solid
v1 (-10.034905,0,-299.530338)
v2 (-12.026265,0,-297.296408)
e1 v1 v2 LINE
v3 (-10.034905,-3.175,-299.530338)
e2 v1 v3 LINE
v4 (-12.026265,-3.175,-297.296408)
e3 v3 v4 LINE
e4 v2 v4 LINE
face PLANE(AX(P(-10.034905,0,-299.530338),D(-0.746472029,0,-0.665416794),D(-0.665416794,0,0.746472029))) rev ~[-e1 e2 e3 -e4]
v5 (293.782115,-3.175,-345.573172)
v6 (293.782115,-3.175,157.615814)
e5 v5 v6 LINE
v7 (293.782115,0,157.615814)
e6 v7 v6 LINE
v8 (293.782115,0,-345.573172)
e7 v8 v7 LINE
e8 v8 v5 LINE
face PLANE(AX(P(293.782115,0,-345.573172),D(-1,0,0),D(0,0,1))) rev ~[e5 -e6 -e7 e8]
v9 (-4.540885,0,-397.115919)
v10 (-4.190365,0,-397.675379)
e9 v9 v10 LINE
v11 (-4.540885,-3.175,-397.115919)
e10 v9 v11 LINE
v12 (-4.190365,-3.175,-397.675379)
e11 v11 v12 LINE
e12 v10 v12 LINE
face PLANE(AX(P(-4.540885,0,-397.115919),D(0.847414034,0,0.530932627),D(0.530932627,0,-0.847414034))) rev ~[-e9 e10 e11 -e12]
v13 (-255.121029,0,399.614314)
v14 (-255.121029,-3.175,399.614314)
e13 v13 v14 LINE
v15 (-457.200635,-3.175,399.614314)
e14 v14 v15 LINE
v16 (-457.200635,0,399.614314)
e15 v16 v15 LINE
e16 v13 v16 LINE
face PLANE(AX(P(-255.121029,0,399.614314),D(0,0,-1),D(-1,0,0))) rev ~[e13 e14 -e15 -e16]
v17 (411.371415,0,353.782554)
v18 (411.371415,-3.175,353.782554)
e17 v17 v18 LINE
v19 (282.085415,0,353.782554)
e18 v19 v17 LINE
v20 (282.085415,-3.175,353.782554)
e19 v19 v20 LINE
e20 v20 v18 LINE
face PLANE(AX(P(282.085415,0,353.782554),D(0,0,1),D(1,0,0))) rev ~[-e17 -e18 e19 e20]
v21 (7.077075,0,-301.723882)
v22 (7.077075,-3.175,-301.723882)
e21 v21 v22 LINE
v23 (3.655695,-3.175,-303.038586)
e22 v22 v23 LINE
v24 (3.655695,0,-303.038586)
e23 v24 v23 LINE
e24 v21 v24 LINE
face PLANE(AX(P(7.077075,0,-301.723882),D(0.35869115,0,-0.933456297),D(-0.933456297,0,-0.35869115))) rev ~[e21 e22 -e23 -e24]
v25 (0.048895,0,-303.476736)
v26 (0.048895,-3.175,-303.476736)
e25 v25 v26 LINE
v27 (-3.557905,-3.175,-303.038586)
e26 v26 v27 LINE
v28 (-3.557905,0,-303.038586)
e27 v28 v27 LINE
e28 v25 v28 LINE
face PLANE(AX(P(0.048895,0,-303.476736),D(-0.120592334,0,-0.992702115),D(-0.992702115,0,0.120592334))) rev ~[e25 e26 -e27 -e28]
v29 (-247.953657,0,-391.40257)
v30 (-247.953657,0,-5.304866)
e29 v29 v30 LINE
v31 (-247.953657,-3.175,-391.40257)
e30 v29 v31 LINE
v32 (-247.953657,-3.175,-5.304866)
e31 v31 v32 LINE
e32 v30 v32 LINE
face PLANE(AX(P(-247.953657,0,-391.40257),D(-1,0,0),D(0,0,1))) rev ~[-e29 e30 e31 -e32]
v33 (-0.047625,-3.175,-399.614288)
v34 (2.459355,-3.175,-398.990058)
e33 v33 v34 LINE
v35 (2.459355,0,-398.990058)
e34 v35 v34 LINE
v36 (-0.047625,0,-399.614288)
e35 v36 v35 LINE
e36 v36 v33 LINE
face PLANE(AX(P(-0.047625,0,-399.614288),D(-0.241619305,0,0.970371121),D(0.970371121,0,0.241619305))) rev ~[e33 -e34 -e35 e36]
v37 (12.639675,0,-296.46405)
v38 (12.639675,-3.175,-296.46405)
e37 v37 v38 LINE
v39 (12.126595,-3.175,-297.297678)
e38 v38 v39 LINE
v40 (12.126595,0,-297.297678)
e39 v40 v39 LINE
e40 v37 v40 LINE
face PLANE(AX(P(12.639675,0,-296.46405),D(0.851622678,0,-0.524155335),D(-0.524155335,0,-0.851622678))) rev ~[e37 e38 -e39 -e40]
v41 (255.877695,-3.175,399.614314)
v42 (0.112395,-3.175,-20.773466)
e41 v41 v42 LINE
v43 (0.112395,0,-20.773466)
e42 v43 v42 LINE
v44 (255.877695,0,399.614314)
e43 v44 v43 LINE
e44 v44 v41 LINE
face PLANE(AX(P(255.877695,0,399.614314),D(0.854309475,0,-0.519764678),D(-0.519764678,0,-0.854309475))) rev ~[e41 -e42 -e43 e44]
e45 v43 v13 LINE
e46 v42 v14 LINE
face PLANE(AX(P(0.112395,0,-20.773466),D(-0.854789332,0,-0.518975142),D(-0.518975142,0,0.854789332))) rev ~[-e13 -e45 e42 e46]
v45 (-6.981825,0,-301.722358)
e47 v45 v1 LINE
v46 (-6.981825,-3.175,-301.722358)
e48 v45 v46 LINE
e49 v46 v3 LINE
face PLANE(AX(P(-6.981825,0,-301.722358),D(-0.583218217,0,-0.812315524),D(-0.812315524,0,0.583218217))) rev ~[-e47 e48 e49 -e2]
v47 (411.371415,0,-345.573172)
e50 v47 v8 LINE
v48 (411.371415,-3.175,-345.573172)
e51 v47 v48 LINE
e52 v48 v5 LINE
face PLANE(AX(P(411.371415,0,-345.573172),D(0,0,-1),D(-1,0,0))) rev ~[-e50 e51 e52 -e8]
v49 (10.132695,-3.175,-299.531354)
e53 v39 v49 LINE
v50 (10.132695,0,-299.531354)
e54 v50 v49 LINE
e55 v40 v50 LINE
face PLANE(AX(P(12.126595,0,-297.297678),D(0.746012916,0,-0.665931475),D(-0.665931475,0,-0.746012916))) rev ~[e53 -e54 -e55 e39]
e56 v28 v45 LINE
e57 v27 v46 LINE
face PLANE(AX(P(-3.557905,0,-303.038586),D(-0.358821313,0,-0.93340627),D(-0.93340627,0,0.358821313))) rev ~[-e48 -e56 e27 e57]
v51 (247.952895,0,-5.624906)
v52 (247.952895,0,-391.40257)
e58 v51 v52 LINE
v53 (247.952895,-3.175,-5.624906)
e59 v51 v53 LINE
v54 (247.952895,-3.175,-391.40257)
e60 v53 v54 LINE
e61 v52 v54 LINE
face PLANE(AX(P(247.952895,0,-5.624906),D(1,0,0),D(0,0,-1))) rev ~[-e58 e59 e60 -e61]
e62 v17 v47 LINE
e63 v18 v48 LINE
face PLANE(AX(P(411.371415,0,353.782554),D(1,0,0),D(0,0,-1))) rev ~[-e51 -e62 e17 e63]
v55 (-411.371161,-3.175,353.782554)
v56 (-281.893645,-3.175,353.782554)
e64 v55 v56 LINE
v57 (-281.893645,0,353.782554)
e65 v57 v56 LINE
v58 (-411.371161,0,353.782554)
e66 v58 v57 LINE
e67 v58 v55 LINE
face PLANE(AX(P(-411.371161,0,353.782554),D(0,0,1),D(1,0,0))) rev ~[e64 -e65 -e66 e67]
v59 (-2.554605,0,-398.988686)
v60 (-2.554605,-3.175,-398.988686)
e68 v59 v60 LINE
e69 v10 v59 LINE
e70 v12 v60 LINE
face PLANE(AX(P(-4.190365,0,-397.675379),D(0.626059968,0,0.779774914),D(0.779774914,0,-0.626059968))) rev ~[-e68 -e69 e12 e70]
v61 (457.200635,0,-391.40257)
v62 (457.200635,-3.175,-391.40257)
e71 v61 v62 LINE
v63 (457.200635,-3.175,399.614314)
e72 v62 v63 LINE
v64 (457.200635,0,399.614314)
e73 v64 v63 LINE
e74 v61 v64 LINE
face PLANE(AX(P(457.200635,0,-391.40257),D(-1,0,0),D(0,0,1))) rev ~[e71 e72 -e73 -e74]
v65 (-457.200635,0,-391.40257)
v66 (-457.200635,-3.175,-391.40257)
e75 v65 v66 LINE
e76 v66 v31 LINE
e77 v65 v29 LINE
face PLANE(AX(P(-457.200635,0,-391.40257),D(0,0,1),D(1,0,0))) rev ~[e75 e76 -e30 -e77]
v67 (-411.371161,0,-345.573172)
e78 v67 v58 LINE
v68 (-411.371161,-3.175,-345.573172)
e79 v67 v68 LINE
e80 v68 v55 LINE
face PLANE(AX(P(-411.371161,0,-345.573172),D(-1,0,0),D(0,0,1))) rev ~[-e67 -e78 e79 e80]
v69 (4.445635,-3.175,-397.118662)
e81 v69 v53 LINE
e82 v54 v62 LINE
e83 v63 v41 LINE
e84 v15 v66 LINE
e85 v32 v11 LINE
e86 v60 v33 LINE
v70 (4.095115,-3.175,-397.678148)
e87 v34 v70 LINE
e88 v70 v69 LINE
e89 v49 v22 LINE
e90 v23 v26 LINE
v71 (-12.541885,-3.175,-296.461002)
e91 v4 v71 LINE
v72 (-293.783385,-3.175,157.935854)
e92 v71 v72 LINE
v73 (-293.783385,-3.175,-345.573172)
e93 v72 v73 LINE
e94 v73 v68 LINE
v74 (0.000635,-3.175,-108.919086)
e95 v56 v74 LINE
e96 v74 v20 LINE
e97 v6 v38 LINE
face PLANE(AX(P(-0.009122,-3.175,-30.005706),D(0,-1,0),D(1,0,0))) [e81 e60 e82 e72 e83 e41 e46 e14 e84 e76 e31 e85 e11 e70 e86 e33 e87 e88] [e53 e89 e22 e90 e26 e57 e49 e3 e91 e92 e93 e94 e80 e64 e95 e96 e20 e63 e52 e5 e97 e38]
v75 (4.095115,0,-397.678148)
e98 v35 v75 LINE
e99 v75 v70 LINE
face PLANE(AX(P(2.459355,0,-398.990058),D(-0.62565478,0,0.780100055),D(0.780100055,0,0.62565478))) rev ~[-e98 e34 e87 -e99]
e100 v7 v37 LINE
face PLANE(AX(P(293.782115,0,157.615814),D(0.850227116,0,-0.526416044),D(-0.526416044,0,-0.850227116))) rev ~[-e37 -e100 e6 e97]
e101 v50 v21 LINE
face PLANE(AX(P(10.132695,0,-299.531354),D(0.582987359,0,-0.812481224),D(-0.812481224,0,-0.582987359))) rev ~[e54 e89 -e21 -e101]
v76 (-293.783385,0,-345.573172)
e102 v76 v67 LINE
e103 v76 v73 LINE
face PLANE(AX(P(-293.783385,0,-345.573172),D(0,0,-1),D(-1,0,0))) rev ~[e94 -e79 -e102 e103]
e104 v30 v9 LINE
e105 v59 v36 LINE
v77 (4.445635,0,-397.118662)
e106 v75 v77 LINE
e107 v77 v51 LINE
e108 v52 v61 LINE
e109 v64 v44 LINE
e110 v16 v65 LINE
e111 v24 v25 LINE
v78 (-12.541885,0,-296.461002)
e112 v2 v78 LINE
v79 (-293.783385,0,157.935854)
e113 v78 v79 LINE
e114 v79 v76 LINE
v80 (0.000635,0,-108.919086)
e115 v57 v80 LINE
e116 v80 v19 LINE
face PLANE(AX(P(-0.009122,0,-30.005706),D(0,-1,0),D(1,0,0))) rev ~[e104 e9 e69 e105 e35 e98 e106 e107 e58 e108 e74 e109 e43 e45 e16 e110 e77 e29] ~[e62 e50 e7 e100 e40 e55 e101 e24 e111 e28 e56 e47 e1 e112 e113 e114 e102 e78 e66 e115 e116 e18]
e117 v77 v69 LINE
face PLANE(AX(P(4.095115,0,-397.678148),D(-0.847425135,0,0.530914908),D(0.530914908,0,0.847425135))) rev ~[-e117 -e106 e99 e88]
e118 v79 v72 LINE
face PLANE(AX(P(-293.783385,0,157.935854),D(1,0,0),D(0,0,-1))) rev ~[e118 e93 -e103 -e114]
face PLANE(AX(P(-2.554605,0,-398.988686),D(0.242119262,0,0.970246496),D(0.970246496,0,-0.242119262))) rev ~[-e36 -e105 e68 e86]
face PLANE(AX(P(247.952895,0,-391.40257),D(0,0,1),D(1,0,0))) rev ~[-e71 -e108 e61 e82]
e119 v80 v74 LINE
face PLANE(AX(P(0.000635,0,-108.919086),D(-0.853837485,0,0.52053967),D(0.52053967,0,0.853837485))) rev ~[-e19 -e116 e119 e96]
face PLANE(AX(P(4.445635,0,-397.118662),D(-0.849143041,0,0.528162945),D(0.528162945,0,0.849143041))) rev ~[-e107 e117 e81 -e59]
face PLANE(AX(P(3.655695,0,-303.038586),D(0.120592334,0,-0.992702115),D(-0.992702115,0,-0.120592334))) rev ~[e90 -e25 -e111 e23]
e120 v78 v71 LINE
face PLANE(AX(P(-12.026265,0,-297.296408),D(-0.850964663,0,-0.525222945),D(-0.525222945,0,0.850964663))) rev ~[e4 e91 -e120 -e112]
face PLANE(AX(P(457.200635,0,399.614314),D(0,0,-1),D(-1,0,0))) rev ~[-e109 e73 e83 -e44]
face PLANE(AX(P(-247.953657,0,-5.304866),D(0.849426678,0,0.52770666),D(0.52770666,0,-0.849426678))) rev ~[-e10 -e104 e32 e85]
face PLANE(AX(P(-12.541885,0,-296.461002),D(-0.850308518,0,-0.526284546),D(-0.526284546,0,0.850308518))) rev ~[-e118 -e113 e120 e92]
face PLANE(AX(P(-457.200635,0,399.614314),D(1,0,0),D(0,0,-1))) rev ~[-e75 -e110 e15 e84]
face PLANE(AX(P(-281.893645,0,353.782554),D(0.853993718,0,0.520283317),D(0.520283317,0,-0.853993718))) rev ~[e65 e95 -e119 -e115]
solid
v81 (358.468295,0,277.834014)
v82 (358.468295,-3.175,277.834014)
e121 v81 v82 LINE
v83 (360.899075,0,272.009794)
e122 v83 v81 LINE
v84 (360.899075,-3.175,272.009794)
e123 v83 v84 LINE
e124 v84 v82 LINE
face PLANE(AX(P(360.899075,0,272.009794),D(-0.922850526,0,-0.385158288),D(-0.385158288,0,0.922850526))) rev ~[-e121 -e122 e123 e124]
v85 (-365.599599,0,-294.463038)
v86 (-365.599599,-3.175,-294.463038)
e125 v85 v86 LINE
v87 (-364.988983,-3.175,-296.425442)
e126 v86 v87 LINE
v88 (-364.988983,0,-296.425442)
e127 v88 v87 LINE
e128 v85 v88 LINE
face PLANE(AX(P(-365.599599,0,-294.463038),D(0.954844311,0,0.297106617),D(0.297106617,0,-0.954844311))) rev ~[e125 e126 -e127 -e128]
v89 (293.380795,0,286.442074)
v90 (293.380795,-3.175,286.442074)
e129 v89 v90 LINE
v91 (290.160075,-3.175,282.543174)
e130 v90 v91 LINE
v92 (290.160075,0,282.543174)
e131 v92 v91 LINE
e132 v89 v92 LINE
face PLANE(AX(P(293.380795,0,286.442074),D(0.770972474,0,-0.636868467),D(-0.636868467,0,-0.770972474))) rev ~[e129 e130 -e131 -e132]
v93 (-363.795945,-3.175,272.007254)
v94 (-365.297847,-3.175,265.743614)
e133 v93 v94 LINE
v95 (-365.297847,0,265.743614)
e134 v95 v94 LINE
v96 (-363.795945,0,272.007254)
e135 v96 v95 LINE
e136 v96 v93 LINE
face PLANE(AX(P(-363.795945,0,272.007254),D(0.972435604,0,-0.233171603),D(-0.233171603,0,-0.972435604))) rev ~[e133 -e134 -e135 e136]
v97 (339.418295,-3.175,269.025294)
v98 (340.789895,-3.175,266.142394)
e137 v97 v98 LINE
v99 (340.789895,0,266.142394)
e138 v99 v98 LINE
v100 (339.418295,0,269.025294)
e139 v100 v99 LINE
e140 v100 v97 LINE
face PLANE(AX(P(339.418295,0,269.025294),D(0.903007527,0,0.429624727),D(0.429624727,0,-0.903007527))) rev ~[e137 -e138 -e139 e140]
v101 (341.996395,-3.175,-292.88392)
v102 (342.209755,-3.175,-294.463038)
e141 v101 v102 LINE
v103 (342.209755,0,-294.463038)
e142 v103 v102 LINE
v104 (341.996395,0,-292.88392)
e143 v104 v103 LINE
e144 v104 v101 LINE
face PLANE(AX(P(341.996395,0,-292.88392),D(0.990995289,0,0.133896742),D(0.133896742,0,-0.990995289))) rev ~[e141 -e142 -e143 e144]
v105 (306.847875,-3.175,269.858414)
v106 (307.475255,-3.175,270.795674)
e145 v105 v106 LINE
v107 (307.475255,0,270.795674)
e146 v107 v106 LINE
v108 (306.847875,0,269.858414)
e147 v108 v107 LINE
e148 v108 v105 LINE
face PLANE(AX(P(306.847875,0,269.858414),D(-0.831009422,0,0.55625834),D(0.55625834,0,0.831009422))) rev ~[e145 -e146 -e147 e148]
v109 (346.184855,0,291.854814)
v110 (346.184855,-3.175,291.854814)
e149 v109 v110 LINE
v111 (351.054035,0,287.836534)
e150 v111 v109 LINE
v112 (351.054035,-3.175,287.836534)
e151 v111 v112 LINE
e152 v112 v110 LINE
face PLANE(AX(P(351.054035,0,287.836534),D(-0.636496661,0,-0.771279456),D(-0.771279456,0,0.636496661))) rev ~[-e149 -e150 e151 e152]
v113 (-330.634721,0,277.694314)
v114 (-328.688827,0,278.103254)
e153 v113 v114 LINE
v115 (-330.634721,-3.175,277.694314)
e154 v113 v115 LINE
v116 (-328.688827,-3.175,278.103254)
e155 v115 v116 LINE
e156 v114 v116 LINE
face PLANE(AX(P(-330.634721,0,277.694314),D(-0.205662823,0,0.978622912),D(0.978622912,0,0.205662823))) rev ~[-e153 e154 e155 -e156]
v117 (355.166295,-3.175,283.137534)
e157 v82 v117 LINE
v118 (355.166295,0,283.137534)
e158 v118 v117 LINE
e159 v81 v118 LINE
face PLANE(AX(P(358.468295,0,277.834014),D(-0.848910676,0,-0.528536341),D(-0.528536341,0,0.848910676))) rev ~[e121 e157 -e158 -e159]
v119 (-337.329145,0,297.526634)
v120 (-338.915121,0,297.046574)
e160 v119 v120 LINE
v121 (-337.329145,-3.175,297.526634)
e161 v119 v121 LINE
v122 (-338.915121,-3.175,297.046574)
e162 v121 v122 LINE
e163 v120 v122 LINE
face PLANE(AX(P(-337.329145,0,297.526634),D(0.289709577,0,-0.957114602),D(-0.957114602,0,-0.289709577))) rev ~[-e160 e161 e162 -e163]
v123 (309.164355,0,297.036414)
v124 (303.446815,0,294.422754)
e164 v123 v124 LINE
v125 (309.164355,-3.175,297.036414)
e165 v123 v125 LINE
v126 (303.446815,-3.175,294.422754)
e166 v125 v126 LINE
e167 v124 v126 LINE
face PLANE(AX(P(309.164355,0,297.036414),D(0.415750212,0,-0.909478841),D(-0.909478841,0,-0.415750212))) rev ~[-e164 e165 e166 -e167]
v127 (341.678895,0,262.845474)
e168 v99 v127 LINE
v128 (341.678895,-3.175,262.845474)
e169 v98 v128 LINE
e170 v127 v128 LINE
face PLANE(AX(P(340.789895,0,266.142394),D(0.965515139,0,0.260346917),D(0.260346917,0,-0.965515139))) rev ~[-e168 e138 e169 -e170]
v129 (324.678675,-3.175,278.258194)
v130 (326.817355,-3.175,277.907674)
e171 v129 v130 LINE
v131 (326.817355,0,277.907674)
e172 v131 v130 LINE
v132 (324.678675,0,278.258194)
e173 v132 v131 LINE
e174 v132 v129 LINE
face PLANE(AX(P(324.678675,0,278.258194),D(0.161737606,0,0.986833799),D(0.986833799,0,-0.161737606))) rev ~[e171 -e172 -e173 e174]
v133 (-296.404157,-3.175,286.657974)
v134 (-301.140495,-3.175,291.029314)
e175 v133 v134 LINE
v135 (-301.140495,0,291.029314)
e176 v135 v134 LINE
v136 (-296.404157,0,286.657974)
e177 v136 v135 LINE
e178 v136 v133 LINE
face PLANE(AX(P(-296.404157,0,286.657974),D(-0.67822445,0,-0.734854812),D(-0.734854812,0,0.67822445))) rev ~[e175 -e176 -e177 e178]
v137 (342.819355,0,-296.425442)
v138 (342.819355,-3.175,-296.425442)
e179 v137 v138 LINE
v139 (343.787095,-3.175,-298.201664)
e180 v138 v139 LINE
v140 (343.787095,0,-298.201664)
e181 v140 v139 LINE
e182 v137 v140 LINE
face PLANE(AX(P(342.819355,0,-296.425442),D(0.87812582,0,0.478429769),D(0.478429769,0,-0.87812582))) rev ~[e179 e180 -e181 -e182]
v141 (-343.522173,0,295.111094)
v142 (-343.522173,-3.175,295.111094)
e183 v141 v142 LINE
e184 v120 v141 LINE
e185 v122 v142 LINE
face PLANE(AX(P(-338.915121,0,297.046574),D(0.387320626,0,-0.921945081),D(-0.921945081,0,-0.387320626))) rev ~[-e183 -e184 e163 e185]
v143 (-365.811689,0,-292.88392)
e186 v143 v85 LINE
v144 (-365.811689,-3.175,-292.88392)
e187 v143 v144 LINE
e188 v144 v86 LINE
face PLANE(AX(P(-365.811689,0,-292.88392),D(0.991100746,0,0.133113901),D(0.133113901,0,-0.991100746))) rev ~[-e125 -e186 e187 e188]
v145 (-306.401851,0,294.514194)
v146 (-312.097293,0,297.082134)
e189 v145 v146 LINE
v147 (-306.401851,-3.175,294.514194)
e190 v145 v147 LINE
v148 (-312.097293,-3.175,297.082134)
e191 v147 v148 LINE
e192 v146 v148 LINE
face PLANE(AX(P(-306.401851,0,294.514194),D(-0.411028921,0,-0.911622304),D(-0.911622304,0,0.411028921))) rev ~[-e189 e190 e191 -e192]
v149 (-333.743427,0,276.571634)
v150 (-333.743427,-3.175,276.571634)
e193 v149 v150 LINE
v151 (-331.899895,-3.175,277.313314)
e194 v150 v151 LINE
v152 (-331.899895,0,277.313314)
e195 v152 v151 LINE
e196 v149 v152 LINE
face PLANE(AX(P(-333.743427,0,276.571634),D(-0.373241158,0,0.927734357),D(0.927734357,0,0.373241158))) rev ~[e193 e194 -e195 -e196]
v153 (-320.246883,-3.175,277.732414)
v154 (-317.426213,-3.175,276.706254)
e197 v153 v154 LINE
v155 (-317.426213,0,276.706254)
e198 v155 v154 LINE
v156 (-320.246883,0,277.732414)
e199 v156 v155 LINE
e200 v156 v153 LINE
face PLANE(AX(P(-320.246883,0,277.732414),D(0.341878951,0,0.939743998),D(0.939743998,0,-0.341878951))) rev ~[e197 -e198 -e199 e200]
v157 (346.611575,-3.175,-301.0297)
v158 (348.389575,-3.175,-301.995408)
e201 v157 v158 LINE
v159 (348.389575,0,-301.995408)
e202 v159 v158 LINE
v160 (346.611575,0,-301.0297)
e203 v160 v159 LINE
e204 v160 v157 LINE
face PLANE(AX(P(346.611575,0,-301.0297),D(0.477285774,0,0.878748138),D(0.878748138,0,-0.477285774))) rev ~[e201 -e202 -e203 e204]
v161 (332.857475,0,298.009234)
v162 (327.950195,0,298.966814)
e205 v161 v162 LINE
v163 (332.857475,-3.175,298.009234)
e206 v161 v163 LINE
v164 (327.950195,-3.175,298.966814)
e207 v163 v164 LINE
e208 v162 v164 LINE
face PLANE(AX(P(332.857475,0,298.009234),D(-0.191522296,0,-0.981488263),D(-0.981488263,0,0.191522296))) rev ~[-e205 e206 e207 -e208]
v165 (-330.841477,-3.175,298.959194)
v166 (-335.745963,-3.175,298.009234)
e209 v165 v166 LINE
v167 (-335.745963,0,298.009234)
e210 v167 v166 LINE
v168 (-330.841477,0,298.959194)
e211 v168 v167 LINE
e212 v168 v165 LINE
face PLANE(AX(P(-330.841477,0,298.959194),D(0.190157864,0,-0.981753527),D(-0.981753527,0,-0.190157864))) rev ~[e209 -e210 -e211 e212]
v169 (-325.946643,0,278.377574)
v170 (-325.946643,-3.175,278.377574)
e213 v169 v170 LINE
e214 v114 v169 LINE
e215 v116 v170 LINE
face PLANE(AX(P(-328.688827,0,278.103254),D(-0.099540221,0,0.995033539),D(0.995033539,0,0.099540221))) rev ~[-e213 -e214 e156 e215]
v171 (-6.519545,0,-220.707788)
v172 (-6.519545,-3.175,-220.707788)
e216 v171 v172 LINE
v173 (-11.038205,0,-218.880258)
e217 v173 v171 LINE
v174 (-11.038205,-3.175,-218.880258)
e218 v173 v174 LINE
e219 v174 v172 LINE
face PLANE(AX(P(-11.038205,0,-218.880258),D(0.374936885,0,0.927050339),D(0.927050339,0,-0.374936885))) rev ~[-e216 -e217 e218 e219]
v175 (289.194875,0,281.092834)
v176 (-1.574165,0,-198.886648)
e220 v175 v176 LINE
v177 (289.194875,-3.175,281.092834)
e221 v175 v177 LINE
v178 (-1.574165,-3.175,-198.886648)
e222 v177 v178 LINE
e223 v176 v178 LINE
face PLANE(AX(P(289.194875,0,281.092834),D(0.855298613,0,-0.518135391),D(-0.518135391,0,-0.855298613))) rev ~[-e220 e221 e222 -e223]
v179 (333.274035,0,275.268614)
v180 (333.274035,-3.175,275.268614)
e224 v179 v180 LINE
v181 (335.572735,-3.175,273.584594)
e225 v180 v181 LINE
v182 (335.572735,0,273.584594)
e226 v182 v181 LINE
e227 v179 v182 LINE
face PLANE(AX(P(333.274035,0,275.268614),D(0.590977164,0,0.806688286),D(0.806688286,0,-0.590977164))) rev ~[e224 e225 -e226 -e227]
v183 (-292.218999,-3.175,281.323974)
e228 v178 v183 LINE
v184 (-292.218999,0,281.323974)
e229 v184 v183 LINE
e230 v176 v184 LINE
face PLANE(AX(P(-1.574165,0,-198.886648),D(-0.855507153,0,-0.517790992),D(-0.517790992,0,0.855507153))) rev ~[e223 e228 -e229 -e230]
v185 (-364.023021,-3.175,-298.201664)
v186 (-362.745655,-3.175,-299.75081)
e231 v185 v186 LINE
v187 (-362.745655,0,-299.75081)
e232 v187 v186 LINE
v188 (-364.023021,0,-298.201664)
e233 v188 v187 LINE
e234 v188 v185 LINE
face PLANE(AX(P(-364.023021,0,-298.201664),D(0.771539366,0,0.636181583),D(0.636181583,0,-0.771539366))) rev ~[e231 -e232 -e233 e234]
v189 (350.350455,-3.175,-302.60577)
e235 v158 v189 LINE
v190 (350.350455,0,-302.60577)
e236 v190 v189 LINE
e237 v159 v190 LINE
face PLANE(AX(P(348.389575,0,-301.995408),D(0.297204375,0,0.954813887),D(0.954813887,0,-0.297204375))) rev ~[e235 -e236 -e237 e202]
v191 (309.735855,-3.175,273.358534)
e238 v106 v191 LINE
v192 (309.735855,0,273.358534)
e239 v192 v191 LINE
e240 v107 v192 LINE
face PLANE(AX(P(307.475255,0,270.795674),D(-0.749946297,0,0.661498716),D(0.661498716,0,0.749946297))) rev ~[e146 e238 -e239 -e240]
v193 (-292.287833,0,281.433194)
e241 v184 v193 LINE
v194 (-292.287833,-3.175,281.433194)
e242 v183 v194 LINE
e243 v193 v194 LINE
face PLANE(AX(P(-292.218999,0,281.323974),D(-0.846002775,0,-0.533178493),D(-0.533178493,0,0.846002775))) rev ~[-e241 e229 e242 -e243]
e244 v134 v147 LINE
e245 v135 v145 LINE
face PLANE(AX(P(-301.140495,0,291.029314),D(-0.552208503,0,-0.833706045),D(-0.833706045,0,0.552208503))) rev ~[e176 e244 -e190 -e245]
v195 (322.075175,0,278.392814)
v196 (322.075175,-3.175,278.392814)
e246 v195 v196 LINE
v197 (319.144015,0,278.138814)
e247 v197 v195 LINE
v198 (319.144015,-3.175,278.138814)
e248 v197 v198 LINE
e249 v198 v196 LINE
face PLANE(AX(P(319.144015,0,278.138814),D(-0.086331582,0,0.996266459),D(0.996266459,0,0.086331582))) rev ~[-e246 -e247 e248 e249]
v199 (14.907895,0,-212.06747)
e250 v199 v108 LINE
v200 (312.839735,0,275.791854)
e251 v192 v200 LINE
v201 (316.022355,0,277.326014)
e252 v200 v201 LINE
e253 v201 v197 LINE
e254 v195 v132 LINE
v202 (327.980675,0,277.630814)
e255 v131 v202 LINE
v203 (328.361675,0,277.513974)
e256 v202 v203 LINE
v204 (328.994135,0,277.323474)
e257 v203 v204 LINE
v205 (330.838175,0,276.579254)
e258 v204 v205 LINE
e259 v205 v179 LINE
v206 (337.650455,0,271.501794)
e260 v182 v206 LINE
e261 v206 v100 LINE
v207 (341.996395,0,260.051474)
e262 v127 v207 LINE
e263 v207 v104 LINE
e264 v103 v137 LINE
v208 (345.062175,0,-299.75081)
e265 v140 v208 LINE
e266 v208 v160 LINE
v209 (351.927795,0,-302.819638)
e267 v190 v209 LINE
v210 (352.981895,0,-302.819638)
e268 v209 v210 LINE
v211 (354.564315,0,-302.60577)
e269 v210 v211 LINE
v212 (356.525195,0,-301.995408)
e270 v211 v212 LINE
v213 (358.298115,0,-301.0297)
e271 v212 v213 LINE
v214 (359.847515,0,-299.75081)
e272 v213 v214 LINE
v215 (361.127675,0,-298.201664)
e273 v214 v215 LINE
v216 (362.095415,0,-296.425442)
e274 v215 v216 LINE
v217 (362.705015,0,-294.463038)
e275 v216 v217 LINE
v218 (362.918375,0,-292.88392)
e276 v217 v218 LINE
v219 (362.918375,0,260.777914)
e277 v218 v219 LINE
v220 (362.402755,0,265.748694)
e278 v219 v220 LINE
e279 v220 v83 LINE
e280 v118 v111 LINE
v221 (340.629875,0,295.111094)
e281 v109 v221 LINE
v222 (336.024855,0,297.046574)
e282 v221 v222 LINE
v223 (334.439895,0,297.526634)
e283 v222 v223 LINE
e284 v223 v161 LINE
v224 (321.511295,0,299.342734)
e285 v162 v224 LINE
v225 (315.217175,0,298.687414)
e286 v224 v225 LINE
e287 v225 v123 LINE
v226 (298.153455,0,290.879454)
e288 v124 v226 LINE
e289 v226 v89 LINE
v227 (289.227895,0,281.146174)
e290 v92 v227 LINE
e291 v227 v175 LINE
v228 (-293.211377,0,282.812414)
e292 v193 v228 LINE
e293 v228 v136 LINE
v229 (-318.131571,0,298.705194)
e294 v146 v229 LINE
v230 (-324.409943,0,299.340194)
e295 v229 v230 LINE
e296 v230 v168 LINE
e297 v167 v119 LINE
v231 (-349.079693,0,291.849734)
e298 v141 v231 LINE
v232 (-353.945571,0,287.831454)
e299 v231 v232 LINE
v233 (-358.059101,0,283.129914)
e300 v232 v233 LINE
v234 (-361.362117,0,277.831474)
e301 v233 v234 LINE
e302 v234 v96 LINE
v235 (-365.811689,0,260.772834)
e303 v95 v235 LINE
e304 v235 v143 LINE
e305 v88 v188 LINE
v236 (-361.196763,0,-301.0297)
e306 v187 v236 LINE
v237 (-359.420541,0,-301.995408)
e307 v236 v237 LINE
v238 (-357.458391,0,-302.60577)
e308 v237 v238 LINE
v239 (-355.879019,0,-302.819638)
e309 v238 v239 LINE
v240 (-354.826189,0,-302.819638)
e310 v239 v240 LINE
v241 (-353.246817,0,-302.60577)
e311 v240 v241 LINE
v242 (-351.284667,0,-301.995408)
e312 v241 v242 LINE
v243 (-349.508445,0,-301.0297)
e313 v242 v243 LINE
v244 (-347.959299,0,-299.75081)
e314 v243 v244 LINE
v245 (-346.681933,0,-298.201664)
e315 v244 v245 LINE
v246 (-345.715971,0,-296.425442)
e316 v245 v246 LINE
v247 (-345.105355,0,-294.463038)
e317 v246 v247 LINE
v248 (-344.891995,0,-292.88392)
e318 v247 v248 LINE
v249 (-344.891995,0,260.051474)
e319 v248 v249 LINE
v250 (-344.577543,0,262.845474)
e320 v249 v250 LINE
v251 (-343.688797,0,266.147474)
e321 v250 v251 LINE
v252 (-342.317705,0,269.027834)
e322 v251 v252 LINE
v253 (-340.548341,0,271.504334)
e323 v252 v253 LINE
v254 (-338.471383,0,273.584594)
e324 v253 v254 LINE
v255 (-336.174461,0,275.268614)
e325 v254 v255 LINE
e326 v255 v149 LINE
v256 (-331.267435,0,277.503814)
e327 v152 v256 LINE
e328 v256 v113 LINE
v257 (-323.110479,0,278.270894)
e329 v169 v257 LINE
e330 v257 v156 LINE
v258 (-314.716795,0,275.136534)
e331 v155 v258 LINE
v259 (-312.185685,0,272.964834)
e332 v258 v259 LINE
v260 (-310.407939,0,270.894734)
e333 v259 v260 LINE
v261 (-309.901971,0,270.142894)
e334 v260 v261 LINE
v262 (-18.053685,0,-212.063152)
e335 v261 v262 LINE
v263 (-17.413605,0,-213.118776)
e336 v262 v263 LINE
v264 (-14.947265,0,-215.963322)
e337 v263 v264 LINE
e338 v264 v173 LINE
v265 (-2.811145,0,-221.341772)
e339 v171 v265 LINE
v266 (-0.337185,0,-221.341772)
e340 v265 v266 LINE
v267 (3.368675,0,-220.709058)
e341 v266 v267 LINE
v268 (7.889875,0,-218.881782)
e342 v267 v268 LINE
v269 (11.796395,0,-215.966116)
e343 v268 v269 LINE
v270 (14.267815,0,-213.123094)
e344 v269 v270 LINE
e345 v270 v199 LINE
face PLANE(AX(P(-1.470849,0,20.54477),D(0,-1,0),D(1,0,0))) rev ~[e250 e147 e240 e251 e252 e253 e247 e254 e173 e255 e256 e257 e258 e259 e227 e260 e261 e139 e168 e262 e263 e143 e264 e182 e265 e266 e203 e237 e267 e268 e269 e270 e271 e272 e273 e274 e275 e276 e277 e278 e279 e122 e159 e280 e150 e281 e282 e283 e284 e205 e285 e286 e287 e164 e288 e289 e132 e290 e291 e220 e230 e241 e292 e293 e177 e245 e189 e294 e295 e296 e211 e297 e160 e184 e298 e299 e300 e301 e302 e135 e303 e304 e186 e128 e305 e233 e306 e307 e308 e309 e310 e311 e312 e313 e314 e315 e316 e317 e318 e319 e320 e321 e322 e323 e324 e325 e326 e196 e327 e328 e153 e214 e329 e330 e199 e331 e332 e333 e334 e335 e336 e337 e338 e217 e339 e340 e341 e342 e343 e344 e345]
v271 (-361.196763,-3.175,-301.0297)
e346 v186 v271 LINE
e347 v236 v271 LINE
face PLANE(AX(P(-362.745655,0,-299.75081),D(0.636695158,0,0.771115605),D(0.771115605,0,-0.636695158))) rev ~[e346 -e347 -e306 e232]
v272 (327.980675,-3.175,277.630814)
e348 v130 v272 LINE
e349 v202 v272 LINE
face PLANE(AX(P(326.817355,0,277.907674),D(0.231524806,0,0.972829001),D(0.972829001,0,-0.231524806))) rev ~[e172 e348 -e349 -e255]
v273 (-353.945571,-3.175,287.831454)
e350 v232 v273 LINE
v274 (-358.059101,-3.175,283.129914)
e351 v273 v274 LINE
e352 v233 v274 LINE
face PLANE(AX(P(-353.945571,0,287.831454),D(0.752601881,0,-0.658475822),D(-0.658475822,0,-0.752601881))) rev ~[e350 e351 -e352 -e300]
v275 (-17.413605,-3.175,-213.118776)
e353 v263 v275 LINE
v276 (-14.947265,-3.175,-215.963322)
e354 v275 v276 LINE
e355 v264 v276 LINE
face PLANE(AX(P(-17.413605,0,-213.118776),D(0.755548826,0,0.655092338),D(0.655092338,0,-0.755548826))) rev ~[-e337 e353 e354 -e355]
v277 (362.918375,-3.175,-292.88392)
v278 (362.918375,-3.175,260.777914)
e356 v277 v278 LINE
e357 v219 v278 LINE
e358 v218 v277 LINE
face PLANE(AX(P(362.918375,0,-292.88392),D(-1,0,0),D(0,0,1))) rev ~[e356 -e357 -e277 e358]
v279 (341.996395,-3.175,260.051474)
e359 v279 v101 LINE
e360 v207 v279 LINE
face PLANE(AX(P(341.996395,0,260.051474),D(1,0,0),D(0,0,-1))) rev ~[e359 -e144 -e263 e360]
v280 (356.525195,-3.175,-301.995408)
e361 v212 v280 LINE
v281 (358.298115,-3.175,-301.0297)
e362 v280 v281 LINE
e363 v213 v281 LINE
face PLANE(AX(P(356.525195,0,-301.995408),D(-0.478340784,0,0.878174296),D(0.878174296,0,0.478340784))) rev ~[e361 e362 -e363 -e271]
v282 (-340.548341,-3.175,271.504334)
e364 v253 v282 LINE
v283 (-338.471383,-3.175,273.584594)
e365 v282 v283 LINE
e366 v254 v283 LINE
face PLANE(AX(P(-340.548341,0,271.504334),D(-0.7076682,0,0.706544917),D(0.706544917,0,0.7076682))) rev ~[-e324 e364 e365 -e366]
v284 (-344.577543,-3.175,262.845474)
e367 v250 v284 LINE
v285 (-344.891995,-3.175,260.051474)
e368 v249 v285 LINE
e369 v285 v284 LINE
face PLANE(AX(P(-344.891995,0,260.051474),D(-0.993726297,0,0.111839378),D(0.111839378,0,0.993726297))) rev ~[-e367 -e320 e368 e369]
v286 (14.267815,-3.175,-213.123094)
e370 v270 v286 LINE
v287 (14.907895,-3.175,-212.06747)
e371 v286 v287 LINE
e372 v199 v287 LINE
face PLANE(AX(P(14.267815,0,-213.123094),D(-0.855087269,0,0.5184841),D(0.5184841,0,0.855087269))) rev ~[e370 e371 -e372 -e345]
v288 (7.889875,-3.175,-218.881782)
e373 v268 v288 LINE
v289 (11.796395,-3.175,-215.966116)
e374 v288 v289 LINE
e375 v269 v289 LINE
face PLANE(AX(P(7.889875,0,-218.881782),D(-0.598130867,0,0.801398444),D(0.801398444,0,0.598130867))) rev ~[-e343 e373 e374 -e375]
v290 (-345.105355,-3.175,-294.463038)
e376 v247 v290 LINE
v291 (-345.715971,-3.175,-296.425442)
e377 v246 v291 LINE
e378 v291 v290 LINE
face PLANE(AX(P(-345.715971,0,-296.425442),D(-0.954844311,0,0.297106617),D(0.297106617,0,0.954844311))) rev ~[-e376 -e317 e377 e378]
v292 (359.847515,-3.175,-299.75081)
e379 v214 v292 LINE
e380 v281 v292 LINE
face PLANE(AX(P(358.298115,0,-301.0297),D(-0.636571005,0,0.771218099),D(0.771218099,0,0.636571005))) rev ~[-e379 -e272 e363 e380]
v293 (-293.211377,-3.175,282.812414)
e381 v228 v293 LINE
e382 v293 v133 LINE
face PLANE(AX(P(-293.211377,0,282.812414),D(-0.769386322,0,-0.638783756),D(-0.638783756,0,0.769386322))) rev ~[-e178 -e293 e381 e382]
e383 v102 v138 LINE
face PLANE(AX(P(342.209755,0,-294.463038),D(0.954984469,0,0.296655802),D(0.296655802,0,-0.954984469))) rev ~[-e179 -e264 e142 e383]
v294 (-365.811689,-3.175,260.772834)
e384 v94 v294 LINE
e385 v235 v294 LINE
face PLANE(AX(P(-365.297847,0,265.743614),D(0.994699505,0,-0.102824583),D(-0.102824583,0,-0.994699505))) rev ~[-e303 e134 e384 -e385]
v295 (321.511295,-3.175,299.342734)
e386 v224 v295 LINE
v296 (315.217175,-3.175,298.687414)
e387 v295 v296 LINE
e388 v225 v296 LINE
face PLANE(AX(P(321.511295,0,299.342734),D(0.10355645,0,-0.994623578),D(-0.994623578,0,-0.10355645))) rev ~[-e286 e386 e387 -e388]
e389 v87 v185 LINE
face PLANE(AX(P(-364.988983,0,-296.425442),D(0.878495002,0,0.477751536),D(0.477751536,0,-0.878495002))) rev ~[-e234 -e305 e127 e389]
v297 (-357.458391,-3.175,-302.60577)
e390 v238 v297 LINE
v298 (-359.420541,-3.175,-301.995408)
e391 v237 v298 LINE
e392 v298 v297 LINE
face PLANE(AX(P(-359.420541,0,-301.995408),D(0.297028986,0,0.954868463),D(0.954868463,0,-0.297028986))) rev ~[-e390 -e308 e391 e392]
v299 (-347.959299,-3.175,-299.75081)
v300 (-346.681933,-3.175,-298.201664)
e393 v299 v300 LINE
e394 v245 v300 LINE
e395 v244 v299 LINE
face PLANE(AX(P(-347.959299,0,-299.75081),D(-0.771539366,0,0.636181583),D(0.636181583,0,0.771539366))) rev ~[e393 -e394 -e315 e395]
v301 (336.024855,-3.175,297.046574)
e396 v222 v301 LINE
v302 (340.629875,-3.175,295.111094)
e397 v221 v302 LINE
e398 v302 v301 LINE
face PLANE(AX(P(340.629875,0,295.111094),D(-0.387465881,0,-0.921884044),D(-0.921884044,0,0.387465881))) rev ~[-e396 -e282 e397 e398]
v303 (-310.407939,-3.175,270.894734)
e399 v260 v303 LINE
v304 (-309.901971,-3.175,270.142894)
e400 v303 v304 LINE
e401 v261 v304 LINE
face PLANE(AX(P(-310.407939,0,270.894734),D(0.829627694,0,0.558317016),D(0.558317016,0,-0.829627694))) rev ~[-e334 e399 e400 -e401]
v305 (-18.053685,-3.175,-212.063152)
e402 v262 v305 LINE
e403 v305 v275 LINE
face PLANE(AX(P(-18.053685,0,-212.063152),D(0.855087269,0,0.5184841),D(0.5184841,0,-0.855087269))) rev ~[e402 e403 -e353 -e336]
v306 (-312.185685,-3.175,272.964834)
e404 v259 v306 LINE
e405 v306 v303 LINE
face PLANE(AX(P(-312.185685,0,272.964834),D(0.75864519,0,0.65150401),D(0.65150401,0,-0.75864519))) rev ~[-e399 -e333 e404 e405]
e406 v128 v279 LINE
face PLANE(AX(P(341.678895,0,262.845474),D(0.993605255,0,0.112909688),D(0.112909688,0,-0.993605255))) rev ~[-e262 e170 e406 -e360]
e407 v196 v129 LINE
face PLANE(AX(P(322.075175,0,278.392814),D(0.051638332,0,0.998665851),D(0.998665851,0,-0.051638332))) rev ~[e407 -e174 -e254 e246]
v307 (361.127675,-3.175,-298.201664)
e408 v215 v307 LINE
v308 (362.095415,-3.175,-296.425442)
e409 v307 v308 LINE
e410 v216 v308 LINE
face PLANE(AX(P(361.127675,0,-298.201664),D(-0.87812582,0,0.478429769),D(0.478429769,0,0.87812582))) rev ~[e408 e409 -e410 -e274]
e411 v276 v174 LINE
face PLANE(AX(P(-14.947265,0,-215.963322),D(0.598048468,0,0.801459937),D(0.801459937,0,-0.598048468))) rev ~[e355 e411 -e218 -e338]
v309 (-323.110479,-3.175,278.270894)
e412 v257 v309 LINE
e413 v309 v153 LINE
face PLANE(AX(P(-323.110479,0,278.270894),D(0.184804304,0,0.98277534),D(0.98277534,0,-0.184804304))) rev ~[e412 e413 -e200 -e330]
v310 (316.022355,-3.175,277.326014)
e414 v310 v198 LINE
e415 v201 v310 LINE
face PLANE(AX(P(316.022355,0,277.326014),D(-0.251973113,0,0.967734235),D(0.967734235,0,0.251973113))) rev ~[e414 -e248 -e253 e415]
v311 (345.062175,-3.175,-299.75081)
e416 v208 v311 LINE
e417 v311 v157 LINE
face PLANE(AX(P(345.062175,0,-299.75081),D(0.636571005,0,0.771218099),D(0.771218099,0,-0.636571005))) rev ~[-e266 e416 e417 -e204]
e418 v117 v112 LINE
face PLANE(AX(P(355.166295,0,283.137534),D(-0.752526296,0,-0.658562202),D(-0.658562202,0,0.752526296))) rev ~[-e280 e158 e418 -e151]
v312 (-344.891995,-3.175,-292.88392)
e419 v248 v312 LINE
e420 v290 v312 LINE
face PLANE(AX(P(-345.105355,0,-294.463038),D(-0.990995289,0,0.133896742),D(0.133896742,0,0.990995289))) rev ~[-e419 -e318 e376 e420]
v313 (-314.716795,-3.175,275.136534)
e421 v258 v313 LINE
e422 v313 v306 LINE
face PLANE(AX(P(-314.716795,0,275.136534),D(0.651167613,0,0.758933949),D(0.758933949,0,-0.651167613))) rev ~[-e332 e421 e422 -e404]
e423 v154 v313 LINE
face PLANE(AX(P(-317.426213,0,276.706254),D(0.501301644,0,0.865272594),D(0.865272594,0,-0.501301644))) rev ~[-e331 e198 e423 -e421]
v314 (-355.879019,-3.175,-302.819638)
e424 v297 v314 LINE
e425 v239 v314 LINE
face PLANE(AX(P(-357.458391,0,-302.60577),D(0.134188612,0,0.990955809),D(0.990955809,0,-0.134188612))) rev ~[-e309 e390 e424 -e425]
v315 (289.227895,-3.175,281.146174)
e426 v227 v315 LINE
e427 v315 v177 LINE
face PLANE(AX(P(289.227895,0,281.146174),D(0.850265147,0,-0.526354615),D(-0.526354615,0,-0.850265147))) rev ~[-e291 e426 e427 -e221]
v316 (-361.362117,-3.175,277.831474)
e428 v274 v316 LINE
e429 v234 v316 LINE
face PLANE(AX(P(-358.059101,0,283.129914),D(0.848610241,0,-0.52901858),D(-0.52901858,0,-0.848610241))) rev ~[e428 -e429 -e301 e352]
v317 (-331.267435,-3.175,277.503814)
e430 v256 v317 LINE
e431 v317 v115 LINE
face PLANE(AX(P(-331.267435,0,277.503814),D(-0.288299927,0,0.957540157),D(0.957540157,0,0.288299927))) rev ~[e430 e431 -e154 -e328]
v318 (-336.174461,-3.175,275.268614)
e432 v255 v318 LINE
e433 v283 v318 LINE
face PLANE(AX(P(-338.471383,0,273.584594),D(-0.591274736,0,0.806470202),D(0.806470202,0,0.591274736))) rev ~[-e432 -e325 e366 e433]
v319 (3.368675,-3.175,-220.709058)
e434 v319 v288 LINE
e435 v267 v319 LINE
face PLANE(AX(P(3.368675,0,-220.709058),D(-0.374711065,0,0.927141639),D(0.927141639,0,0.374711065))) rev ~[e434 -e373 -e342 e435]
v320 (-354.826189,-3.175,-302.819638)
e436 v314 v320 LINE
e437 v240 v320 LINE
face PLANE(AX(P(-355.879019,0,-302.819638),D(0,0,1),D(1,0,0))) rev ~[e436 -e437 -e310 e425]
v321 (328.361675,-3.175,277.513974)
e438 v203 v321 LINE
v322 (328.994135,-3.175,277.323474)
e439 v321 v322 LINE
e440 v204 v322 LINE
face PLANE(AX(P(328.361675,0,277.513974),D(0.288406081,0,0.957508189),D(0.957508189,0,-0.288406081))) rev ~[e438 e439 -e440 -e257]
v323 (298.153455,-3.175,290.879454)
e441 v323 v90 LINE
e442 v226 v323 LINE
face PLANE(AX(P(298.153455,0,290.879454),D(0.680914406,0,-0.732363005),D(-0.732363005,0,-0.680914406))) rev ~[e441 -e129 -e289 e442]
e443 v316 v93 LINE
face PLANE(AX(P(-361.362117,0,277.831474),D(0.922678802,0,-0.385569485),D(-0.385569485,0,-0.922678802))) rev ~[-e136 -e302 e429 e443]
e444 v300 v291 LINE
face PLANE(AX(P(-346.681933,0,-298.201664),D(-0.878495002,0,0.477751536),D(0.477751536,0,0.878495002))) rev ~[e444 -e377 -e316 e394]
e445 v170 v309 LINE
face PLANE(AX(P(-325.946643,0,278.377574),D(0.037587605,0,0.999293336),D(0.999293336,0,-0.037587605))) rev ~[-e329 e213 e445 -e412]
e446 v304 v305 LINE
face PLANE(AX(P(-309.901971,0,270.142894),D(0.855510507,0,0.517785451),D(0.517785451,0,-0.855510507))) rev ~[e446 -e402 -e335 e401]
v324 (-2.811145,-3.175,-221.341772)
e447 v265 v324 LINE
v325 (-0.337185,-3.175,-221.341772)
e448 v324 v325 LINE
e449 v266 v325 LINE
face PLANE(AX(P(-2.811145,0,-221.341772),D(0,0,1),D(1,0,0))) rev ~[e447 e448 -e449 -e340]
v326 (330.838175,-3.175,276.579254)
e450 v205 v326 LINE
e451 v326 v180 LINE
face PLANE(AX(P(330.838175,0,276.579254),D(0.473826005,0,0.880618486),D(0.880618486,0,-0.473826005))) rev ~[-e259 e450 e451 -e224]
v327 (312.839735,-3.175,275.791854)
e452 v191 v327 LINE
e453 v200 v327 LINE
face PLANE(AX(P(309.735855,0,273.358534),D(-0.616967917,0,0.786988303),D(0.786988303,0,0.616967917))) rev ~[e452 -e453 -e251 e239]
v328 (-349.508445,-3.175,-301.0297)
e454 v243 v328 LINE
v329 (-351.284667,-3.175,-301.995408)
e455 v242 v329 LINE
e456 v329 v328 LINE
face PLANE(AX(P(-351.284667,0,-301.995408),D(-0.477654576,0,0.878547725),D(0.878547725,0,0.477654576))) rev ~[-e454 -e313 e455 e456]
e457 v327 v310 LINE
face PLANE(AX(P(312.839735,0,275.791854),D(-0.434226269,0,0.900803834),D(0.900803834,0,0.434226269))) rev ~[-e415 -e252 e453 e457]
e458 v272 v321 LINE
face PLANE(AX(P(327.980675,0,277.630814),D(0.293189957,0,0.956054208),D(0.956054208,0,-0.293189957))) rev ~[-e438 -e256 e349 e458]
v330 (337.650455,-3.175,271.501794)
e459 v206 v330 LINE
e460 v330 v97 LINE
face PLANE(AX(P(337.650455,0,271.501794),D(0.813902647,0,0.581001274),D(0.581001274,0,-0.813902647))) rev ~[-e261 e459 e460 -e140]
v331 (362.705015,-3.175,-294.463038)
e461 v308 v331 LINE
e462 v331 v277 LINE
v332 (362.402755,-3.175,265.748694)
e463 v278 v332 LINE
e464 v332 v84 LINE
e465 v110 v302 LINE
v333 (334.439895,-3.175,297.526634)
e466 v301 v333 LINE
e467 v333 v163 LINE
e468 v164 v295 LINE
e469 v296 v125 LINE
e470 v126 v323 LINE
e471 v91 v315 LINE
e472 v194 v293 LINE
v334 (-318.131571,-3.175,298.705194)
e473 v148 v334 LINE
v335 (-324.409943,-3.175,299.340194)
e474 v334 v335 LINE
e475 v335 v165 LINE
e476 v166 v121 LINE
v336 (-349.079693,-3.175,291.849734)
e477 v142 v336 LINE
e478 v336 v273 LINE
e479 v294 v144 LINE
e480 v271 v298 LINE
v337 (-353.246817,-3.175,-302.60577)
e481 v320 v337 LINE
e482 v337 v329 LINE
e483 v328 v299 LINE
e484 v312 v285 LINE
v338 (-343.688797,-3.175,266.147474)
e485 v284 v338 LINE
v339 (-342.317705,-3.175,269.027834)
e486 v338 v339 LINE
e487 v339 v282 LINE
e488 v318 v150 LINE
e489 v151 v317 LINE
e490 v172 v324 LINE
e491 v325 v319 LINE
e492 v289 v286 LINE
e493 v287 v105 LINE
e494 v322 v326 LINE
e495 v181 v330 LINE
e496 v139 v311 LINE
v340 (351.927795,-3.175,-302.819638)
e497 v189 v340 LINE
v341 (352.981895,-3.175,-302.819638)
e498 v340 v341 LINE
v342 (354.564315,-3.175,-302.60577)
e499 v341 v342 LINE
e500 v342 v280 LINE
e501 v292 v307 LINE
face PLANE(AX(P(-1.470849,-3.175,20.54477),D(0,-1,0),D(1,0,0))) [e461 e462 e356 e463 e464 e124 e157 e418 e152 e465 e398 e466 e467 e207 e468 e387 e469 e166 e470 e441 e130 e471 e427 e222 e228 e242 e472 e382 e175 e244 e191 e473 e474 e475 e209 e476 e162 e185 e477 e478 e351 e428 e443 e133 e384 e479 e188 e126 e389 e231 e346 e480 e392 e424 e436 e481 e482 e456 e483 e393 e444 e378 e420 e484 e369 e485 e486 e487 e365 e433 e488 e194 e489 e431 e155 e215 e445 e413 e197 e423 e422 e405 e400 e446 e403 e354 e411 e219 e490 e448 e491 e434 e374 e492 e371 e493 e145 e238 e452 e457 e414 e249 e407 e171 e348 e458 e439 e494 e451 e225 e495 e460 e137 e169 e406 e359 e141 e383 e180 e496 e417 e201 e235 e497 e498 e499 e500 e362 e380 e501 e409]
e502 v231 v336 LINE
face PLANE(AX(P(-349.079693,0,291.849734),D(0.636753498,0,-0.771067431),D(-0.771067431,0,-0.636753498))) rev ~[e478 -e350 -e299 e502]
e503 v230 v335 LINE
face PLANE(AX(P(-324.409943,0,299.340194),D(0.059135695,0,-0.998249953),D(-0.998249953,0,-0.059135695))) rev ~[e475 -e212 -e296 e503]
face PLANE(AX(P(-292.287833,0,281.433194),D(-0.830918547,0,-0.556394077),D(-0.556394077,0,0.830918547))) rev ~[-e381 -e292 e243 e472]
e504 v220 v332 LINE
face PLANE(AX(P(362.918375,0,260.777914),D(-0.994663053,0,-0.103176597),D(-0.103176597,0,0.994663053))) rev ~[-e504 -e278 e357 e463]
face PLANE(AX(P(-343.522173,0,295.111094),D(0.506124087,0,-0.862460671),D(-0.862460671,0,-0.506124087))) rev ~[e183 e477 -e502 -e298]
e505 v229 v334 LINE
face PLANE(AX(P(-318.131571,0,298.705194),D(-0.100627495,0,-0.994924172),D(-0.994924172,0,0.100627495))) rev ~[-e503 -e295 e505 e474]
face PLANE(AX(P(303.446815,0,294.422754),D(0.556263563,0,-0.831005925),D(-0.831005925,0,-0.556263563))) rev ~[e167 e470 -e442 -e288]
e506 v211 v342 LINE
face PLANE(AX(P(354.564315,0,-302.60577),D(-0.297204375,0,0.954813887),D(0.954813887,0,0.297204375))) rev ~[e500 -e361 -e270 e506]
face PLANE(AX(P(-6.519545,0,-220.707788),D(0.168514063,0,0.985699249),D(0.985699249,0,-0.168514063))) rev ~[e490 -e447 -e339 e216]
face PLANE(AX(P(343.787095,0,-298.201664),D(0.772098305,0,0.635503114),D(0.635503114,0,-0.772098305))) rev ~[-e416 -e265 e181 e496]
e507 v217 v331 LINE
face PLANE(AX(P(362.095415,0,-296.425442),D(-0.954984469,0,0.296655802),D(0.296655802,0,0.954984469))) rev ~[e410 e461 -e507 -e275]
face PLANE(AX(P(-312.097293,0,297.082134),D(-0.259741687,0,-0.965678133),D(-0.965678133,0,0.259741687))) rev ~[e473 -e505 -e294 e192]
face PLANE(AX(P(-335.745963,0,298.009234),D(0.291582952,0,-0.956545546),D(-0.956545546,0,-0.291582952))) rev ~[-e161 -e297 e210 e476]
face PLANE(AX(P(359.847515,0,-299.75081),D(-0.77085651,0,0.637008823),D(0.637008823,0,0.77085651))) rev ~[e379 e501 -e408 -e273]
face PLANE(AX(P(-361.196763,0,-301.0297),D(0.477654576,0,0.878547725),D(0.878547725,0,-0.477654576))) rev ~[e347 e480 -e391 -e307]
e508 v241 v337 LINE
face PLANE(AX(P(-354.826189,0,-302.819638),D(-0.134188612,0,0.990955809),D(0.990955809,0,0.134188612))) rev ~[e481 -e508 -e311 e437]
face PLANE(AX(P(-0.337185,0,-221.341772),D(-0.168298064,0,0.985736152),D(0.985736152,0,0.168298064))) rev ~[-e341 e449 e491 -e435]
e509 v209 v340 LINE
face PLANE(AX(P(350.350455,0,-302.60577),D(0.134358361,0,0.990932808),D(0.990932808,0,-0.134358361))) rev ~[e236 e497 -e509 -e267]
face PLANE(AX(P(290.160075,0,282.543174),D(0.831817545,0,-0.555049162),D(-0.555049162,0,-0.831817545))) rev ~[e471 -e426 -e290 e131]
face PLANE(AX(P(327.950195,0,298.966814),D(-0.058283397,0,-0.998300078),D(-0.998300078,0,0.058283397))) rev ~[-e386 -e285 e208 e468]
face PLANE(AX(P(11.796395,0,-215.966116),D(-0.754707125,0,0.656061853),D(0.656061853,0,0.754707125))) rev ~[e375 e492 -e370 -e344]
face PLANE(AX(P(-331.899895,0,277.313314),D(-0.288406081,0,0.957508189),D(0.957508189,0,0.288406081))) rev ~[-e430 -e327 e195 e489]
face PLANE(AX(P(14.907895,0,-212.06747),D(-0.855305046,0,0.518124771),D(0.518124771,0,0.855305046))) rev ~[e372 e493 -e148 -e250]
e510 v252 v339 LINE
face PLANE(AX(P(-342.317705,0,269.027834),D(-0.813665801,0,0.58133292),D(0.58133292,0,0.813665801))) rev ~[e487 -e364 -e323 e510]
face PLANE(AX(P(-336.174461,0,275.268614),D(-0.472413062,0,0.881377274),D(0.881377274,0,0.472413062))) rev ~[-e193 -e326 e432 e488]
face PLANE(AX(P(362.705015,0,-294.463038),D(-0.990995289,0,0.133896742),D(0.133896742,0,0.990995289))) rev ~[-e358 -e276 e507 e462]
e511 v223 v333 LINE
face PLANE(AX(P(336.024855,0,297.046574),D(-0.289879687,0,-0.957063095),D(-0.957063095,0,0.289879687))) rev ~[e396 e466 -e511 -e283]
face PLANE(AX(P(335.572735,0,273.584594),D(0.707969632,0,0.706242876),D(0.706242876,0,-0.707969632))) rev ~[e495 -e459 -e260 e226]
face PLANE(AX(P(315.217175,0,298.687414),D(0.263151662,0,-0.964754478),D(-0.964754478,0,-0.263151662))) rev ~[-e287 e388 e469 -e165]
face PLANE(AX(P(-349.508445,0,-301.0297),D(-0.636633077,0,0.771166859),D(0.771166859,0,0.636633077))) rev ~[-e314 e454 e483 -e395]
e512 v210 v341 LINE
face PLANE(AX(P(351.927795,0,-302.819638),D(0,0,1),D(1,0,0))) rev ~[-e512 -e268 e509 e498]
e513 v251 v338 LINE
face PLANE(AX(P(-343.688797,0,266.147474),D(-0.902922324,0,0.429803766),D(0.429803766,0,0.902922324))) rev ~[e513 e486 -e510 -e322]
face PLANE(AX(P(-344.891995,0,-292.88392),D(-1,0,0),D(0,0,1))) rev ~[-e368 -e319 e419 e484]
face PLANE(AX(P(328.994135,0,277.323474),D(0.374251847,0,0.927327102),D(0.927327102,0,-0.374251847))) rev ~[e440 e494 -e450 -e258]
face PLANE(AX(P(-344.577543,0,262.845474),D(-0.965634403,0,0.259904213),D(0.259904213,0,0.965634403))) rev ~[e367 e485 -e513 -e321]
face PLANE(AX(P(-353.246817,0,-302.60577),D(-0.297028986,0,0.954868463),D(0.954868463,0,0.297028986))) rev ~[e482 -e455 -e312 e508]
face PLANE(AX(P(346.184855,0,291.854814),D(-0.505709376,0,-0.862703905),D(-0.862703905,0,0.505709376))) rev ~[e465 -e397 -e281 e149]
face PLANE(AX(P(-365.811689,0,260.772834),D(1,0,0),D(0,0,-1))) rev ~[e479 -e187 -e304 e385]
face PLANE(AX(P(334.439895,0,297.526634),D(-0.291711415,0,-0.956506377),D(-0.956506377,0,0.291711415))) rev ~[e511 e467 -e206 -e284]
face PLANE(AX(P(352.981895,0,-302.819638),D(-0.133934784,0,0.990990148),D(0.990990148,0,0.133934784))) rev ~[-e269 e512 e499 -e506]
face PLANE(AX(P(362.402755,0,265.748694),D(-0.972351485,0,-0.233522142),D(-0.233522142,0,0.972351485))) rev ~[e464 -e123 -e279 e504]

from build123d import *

# Parameters (mm, degrees)
F1_DEPTH = 3.175


with BuildPart() as f1:
    # F0 (on Front) → F1 (new body)
    with BuildSketch(Plane.XZ):
        Polygon((247.952895, -391.40257), (457.200635, -391.40257), (457.200635, 399.614314), (255.877695, 399.614314), (0.112395, -20.773466), (-255.121029, 399.614314), (-457.200635, 399.614314), (-457.200635, -391.40257), (-247.953657, -391.40257), (-247.953657, -5.304866), (-4.540885, -397.115919), (-4.190365, -397.675379), (-2.554605, -398.988686), (-0.047625, -399.614288), (2.459355, -398.990058), (4.095115, -397.678148), (4.445635, -397.118662), (247.952895, -5.624906), align=None)
        Polygon((411.371415, -345.573172), (293.782115, -345.573172), (293.782115, 157.615814), (12.639675, -296.46405), (12.126595, -297.297678), (10.132695, -299.531354), (7.077075, -301.723882), (3.655695, -303.038586), (0.048895, -303.476736), (-3.557905, -303.038586), (-6.981825, -301.722358), (-10.034905, -299.530338), (-12.026265, -297.296408), (-12.541885, -296.461002), (-293.783385, 157.935854), (-293.783385, -345.573172), (-411.371161, -345.573172), (-411.371161, 353.782554), (-281.893645, 353.782554), (0.000635, -108.919086), (282.085415, 353.782554), (411.371415, 353.782554), align=None, mode=Mode.SUBTRACT)
        Polygon((336.024855, 297.046574), (334.439895, 297.526634), (332.857475, 298.009234), (327.950195, 298.966814), (321.511295, 299.342734), (315.217175, 298.687414), (309.164355, 297.036414), (303.446815, 294.422754), (298.153455, 290.879454), (293.380795, 286.442074), (290.160075, 282.543174), (289.227895, 281.146174), (289.194875, 281.092834), (-1.574165, -198.886648), (-292.218999, 281.323974), (-292.287833, 281.433194), (-293.211377, 282.812414), (-296.404157, 286.657974), (-301.140495, 291.029314), (-306.401851, 294.514194), (-312.097293, 297.082134), (-318.131571, 298.705194), (-324.409943, 299.340194), (-330.841477, 298.959194), (-335.745963, 298.009234), (-337.329145, 297.526634), (-338.915121, 297.046574), (-343.522173, 295.111094), (-349.079693, 291.849734), (-353.945571, 287.831454), (-358.059101, 283.129914), (-361.362117, 277.831474), (-363.795945, 272.007254), (-365.297847, 265.743614), (-365.811689, 260.772834), (-365.811689, 259.119294), (-365.811689, -292.358648), (-365.811689, -292.88392), (-365.599599, -294.463038), (-364.988983, -296.425442), (-364.023021, -298.201664), (-362.745655, -299.75081), (-361.196763, -301.0297), (-359.420541, -301.995408), (-357.458391, -302.60577), (-355.879019, -302.819638), (-355.351207, -302.819638), (-354.826189, -302.819638), (-353.246817, -302.60577), (-351.284667, -301.995408), (-349.508445, -301.0297), (-347.959299, -299.75081), (-346.681933, -298.201664), (-345.715971, -296.425442), (-345.105355, -294.463038), (-344.891995, -292.88392), (-344.891995, -292.358648), (-344.891995, 259.119294), (-344.891995, 260.051474), (-344.577543, 262.845474), (-343.688797, 266.147474), (-342.317705, 269.027834), (-340.548341, 271.504334), (-338.471383, 273.584594), (-336.174461, 275.268614), (-333.743427, 276.571634), (-331.899895, 277.313314), (-331.267435, 277.503814), (-330.634721, 277.694314), (-328.688827, 278.103254), (-325.946643, 278.377574), (-323.110479, 278.270894), (-320.246883, 277.732414), (-317.426213, 276.706254), (-314.716795, 275.136534), (-312.185685, 272.964834), (-310.407939, 270.894734), (-309.901971, 270.142894), (-18.053685, -212.063152), (-17.413605, -213.118776), (-14.947265, -215.963322), (-11.038205, -218.880258), (-6.519545, -220.707788), (-2.811145, -221.341772), (-1.574165, -221.341772), (-0.337185, -221.341772), (3.368675, -220.709058), (7.889875, -218.881782), (11.796395, -215.966116), (14.267815, -213.123094), (14.907895, -212.06747), (306.847875, 269.858414), (307.475255, 270.795674), (309.735855, 273.358534), (312.839735, 275.791854), (316.022355, 277.326014), (319.144015, 278.138814), (322.075175, 278.392814), (324.678675, 278.258194), (326.817355, 277.907674), (327.980675, 277.630814), (328.361675, 277.513974), (328.994135, 277.323474), (330.838175, 276.579254), (333.274035, 275.268614), (335.572735, 273.584594), (337.650455, 271.501794), (339.418295, 269.025294), (340.789895, 266.142394), (341.678895, 262.845474), (341.996395, 260.051474), (341.996395, 259.119294), (341.996395, -292.358648), (341.996395, -292.88392), (342.209755, -294.463038), (342.819355, -296.425442), (343.787095, -298.201664), (345.062175, -299.75081), (346.611575, -301.0297), (348.389575, -301.995408), (350.350455, -302.60577), (351.927795, -302.819638), (352.456115, -302.819638), (352.981895, -302.819638), (354.564315, -302.60577), (356.525195, -301.995408), (358.298115, -301.0297), (359.847515, -299.75081), (361.127675, -298.201664), (362.095415, -296.425442), (362.705015, -294.463038), (362.918375, -292.88392), (362.918375, -292.358648), (362.918375, 259.119294), (362.918375, 260.777914), (362.402755, 265.748694), (360.899075, 272.009794), (358.468295, 277.834014), (355.166295, 283.137534), (351.054035, 287.836534), (346.184855, 291.854814), (340.629875, 295.111094), align=None)
    extrude(amount=F1_DEPTH)


solid = f1.part
